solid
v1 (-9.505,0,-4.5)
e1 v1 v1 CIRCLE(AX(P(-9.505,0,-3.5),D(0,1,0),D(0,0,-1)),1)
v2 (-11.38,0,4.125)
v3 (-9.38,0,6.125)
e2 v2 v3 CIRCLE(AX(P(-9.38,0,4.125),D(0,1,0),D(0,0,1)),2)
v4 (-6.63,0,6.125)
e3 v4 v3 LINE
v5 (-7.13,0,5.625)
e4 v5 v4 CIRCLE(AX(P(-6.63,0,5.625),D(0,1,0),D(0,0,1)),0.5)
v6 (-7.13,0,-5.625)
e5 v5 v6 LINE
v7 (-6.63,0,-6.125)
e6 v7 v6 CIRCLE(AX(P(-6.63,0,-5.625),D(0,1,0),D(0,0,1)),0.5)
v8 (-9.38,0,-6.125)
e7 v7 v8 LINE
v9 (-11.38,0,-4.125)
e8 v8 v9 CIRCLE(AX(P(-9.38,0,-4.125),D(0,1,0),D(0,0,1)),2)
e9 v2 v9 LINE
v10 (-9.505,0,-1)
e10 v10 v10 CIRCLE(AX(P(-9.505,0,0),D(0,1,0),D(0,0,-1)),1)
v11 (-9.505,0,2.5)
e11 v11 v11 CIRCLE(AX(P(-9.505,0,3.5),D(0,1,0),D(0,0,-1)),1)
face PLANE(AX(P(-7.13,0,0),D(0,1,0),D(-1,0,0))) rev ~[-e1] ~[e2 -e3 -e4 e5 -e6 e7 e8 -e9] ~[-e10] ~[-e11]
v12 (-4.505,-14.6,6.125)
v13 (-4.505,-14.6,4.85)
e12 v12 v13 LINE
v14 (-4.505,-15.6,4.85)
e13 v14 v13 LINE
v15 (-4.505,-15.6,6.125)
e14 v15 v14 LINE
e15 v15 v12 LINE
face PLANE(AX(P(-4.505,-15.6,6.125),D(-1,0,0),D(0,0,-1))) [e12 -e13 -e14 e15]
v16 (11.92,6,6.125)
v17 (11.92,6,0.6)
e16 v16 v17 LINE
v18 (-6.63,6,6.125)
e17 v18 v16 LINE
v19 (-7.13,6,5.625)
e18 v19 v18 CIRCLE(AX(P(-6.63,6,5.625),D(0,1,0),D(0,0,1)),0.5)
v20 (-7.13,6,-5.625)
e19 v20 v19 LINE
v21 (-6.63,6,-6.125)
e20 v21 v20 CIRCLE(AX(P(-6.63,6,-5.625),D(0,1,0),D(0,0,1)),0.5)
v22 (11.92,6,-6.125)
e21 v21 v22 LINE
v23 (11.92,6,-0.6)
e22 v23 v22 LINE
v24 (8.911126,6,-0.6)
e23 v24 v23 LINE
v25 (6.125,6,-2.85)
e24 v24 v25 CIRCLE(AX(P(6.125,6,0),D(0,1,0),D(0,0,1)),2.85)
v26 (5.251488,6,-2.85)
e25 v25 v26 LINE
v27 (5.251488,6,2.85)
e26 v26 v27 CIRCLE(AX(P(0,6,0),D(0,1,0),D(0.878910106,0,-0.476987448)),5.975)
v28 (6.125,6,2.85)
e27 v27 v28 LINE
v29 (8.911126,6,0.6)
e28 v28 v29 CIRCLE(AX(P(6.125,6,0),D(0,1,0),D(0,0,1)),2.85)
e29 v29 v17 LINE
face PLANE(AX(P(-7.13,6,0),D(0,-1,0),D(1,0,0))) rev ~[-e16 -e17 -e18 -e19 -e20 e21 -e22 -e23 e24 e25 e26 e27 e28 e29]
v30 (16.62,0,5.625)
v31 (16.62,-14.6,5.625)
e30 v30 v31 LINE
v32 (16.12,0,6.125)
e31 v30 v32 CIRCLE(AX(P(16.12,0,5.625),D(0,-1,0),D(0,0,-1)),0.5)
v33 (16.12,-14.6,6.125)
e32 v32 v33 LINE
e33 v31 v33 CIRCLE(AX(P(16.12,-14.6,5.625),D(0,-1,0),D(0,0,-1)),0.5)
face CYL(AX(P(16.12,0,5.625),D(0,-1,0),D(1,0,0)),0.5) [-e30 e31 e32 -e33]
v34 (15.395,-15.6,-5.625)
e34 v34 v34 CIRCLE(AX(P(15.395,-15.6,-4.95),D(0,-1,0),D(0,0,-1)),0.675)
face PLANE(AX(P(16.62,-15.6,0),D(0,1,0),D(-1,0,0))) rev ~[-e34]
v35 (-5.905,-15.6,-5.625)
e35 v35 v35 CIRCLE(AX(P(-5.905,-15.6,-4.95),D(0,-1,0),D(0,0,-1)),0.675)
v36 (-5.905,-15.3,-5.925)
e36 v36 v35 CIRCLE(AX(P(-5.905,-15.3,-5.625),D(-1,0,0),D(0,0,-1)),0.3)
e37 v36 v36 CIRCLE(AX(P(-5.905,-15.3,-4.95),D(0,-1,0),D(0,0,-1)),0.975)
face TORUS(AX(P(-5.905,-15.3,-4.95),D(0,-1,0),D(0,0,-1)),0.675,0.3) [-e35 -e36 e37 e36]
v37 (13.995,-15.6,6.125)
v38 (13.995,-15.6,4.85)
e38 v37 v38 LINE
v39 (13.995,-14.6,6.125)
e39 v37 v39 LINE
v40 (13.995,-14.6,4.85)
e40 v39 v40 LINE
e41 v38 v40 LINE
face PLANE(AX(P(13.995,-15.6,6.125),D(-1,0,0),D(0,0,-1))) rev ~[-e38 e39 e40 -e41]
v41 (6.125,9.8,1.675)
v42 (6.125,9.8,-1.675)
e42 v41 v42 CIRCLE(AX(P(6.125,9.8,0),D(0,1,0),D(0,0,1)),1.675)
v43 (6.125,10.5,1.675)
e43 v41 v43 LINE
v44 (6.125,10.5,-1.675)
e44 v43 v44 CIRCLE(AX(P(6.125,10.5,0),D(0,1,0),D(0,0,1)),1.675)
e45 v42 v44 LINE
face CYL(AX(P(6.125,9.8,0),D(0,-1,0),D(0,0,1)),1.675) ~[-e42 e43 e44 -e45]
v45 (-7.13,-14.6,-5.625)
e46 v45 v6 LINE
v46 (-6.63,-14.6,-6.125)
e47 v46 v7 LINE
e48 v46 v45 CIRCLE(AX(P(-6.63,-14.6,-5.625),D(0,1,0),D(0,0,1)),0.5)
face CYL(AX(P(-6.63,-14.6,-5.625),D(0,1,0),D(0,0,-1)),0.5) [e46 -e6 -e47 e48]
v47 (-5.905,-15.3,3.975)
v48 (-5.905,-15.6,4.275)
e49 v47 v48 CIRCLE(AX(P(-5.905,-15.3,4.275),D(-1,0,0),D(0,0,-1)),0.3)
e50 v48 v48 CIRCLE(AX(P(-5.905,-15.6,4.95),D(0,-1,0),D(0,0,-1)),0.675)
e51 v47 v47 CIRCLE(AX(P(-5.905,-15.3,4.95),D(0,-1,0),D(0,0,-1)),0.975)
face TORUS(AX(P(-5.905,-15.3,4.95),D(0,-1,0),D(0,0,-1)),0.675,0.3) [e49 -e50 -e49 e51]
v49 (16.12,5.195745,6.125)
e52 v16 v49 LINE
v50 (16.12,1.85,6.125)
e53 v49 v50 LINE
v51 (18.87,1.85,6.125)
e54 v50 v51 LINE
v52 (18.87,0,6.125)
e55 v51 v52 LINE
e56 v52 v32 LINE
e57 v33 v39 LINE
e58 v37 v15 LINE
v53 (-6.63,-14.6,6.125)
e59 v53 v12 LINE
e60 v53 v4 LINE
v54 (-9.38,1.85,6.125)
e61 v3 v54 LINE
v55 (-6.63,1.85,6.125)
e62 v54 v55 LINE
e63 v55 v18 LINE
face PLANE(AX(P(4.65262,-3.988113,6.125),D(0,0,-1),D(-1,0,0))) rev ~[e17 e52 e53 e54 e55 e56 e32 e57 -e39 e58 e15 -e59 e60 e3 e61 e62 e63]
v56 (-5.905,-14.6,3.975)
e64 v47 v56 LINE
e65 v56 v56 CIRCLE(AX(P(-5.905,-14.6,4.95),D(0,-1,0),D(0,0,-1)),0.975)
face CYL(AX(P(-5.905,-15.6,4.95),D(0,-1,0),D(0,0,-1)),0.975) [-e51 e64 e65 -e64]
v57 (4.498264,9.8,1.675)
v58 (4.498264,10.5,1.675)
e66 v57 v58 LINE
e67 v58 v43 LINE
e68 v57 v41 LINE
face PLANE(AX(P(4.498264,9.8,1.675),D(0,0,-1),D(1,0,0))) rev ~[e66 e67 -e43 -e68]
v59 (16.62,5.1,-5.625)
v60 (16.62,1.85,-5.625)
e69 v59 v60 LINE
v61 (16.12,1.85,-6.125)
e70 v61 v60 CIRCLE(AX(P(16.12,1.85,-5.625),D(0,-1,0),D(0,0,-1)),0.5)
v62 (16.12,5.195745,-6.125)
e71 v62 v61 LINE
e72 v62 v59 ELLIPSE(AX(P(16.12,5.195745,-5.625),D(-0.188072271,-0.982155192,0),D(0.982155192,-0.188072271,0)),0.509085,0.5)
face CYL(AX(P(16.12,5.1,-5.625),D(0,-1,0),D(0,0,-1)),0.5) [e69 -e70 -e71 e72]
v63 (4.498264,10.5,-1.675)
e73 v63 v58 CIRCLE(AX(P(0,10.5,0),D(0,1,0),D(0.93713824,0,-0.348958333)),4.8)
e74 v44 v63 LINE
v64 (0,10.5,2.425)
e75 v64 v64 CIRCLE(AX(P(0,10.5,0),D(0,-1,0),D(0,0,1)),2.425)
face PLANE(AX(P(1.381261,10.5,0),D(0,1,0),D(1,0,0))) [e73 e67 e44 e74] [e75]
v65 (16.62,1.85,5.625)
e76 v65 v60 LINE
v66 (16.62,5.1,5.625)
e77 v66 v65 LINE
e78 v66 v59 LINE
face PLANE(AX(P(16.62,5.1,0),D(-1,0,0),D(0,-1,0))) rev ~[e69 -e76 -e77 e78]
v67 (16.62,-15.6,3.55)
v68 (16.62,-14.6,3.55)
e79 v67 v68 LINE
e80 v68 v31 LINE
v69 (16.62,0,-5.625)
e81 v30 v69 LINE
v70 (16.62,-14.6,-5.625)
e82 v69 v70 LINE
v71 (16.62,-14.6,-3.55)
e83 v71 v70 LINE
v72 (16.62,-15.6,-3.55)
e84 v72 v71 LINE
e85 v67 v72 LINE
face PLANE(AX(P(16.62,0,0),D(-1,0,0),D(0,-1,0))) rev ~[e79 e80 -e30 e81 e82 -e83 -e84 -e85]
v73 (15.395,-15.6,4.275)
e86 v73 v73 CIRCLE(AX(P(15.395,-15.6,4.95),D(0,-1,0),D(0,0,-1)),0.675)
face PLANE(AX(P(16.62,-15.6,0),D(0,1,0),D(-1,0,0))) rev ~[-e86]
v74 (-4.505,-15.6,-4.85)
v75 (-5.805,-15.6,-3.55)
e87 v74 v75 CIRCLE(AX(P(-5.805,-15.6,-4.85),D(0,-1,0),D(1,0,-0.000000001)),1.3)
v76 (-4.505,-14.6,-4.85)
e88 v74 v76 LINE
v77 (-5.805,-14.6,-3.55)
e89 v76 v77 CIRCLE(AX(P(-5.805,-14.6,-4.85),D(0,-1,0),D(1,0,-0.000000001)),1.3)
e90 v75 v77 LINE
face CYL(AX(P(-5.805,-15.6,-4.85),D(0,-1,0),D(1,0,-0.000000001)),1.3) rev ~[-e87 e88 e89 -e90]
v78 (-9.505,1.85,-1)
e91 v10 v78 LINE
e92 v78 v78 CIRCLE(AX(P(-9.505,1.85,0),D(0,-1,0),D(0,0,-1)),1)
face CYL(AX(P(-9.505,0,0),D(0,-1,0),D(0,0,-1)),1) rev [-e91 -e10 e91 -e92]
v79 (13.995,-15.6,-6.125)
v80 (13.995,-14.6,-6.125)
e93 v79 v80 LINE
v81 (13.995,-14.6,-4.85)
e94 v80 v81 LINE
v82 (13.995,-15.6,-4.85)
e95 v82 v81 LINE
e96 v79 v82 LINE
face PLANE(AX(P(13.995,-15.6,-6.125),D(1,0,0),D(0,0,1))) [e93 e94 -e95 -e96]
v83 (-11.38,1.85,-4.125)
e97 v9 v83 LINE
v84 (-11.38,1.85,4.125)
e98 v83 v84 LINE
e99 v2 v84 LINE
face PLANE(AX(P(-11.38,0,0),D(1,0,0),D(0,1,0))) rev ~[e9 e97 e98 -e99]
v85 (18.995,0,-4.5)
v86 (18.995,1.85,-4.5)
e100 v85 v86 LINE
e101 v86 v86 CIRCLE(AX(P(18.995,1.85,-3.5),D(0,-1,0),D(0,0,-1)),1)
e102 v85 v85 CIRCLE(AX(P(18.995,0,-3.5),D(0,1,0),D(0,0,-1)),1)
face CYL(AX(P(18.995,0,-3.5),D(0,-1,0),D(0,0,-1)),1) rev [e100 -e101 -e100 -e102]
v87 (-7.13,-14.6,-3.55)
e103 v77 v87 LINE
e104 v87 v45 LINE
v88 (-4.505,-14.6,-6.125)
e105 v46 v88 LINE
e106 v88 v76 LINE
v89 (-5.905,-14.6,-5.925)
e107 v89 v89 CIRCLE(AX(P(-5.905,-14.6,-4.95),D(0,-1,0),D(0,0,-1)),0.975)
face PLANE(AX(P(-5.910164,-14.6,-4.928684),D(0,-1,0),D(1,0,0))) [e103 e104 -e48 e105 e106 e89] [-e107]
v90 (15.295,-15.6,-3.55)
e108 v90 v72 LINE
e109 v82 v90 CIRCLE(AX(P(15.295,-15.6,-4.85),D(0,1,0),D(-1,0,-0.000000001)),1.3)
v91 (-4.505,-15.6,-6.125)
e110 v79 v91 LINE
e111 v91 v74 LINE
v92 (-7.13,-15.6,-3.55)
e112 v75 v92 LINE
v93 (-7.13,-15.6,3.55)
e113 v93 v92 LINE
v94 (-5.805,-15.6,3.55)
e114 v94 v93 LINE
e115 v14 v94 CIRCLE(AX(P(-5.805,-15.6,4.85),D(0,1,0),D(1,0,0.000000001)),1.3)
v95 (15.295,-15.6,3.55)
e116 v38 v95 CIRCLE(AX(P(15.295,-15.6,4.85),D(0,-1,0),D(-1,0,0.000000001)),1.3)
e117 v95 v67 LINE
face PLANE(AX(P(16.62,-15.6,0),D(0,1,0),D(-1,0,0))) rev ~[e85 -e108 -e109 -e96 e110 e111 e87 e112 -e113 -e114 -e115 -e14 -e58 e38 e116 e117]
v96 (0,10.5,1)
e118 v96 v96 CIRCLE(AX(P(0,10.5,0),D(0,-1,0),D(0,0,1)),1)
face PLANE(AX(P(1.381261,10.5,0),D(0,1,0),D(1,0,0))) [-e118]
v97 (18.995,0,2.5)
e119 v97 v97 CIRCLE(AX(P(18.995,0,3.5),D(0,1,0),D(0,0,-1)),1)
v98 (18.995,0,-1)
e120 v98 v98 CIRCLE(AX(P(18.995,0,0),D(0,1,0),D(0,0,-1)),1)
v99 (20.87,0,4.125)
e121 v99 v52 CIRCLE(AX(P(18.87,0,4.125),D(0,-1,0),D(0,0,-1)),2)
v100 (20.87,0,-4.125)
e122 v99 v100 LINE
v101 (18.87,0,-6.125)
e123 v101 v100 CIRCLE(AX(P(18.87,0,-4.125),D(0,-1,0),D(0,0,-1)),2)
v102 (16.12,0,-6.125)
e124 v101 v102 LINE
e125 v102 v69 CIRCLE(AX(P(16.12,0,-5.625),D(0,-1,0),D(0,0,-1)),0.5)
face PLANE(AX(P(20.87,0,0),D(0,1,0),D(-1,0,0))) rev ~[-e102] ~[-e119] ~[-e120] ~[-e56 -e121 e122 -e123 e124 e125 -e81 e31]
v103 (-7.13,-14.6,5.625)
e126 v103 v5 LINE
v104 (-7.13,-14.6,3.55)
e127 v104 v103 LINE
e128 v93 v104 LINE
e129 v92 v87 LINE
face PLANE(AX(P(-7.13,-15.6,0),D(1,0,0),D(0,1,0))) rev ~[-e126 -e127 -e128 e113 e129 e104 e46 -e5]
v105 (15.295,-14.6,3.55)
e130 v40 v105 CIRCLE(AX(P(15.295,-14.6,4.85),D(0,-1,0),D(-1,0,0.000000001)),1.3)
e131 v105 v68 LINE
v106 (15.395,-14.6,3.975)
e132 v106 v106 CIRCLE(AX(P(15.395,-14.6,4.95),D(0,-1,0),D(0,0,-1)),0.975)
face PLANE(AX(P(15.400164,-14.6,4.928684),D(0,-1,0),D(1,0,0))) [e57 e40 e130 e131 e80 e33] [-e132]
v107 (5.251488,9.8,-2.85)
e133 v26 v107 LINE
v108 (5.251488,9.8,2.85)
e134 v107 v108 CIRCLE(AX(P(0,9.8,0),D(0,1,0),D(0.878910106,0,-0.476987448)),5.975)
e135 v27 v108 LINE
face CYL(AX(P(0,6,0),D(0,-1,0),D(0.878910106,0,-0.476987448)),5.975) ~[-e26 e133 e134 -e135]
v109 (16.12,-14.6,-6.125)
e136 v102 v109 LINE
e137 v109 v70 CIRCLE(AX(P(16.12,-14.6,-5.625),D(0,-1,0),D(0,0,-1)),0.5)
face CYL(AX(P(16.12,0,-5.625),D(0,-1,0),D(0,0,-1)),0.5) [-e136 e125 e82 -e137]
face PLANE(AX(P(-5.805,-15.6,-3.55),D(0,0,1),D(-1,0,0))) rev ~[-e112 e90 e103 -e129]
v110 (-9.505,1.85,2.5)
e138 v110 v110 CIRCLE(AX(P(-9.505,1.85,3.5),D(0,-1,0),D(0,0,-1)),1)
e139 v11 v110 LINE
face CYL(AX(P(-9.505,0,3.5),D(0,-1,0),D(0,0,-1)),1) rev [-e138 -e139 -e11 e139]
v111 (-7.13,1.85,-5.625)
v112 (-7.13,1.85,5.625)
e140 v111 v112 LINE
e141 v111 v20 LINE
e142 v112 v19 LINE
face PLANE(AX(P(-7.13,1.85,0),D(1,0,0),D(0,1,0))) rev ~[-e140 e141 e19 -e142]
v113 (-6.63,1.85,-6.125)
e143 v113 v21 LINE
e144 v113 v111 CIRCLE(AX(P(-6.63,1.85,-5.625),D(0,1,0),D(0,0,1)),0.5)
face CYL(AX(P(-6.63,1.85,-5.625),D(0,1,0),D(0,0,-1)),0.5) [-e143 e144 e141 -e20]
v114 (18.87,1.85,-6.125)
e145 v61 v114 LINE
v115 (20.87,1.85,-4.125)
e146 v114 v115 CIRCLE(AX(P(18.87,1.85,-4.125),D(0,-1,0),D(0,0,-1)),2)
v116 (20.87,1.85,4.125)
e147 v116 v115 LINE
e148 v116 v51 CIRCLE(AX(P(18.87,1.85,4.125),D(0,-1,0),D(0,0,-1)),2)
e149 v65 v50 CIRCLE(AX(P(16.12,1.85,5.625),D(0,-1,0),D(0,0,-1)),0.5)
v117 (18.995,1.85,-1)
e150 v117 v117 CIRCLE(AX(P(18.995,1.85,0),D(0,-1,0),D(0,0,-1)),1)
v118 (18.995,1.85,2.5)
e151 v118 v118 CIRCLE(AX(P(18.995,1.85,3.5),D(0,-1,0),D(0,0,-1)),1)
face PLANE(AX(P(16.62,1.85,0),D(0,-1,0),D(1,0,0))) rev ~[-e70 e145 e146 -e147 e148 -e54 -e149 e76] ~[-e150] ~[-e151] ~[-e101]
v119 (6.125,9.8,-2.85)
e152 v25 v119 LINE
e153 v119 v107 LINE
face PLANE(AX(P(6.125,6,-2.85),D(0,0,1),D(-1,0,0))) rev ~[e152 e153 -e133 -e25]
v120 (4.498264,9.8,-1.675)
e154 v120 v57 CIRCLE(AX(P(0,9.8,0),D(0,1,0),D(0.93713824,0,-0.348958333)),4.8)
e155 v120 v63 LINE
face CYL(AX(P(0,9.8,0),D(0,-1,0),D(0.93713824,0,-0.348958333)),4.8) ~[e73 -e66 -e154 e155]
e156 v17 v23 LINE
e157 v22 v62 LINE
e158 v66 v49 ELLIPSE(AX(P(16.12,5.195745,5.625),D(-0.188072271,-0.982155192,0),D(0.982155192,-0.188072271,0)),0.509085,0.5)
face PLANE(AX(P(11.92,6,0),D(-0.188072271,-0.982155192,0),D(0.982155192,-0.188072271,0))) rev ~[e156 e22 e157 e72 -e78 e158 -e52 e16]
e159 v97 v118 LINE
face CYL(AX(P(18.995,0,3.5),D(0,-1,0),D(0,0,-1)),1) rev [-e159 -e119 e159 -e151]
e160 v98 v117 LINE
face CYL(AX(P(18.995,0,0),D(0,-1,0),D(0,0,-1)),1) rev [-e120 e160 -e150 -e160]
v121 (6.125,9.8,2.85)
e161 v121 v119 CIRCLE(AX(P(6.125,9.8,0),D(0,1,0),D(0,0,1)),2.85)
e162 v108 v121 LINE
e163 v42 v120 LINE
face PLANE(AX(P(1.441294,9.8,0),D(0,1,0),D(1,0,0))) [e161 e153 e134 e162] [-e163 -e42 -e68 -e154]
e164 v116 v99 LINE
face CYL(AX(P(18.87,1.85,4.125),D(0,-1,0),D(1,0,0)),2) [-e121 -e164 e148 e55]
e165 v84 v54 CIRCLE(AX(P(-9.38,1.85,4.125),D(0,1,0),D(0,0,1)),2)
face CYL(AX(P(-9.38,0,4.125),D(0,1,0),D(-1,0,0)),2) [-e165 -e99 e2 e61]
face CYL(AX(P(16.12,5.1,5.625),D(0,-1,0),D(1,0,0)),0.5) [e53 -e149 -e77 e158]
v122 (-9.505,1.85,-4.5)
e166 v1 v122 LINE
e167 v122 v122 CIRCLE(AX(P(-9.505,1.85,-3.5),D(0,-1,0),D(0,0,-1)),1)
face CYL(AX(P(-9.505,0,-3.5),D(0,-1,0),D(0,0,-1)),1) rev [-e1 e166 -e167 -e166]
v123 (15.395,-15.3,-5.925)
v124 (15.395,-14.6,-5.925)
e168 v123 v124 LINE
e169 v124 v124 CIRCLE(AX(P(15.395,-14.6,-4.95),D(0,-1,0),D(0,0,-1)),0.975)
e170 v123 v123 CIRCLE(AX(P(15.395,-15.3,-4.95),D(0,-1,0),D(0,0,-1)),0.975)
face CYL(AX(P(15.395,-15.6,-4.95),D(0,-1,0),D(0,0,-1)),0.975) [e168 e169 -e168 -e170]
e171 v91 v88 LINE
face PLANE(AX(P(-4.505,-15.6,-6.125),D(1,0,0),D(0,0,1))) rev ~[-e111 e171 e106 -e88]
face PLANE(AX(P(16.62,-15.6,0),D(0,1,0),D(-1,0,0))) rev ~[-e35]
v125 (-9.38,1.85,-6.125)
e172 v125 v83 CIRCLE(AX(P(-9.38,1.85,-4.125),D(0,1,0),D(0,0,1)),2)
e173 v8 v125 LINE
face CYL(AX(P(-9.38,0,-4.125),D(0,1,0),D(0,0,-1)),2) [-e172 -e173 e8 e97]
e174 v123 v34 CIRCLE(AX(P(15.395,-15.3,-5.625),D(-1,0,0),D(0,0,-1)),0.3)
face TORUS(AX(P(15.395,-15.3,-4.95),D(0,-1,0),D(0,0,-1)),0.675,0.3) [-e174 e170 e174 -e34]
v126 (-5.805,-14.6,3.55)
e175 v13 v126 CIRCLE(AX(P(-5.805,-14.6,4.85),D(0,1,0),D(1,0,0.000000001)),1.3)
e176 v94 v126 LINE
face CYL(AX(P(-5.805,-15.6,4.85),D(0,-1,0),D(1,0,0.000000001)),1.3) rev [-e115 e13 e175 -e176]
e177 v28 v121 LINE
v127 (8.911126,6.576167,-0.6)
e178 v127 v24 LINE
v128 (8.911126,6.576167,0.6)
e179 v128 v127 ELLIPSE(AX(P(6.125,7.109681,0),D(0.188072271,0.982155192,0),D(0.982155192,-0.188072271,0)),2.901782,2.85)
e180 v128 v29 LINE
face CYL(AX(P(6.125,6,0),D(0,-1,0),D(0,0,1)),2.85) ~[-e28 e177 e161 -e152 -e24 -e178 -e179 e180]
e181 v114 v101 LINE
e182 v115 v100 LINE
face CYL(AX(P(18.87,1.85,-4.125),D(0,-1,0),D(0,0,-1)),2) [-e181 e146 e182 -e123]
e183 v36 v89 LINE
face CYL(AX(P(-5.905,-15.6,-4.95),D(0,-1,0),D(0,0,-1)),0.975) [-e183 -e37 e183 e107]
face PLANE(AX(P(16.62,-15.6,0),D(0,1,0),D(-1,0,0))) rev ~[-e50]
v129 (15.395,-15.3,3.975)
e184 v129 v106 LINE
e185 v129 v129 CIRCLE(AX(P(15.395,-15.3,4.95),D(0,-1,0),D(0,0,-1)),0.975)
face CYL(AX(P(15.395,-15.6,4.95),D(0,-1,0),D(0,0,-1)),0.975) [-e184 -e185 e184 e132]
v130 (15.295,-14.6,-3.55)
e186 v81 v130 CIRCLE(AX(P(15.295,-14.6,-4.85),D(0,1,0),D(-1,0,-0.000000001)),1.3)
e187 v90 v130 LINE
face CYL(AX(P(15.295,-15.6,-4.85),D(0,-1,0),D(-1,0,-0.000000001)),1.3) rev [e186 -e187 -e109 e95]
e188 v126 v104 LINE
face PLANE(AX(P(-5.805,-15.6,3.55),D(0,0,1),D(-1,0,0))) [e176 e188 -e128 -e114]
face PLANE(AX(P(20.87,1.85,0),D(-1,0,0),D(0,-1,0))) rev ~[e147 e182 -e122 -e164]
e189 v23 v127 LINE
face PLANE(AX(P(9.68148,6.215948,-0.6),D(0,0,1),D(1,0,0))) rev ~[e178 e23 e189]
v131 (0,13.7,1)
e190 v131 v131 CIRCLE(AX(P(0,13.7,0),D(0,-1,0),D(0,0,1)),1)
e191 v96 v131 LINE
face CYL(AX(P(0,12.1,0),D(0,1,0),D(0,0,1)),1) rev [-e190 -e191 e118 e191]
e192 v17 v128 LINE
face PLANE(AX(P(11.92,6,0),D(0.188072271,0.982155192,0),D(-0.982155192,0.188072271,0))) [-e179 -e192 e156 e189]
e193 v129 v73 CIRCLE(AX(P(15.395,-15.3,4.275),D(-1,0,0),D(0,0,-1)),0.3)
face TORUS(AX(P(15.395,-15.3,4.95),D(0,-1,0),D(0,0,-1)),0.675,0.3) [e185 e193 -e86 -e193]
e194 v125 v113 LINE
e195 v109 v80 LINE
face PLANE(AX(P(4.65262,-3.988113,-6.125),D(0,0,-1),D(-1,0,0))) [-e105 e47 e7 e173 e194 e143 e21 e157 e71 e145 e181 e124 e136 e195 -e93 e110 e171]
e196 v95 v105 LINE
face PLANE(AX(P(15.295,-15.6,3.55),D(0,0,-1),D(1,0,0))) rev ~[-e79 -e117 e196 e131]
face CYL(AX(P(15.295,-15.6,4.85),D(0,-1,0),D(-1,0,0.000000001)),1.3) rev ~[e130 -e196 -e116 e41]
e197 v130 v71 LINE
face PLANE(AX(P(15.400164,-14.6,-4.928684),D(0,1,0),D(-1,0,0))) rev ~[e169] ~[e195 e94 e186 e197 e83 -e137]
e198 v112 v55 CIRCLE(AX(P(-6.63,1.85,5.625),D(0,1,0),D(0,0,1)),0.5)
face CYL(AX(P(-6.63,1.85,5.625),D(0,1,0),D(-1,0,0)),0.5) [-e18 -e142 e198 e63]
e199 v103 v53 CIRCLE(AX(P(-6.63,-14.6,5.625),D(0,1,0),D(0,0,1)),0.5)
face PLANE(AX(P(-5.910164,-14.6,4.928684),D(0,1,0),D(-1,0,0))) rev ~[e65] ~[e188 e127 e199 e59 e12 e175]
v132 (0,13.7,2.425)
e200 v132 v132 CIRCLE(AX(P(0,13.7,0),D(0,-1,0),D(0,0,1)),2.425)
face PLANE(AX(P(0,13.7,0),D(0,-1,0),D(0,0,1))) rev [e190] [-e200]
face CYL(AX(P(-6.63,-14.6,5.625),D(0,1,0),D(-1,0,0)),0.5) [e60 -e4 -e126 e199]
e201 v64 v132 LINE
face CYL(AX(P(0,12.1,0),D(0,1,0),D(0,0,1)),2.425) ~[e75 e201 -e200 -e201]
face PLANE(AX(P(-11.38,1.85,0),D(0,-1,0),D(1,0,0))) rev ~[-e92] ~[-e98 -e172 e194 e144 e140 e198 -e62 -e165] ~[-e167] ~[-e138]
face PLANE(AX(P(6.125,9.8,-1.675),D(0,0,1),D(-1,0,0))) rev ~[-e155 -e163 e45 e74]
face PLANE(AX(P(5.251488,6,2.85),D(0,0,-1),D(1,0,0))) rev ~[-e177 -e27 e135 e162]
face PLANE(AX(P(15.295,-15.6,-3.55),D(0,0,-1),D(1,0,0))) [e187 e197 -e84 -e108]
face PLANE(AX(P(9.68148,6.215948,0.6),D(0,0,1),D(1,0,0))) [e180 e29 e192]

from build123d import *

# Parameters (mm, degrees)
BOSS_EXTRUDE1_DEPTH = 6.125
BOSS_EXTRUDE2_DEPTH = 3.8
BOSS_EXTRUDE3_DEPTH = 0.7
SKETCH4_R           = 1
CUT_EXTRUDE1_DEPTH  = 27.766257209
SKETCH5_R           = 0.975
CUT_EXTRUDE2_DEPTH  = 1
BOSS_EXTRUDE6_DEPTH = 0.6
SKETCH9_W           = 1.425
SKETCH9_H           = 3.2
FILLET1_R           = 0.3
FILLET2_R           = 2
FILLET3_R           = 0.5


with BuildPart() as part:
    # Sketch1 → Boss-Extrude1 (new, symmetric)
    with BuildSketch(Plane.XY):
        Polygon((-7.13, 6), (11.92, 6), (16.62, 5.1), (16.62, 1.85), (20.87, 1.85), (20.87, 0), (16.62, 0), (16.62, -15.6), (-7.13, -15.6), (-7.13, 0), (-11.38, 0), (-11.38, 1.85), (-7.13, 1.85), align=None)
    extrude(amount=BOSS_EXTRUDE1_DEPTH, both=True)

    # Sketch2 → Boss-Extrude2 (add)
    with BuildSketch(Plane(origin=(0, 6, 0), x_dir=(1, 0, 0), z_dir=(0, 1, 0))):
        with BuildLine():
            Line((5.251487884, -2.85), (6.125, -2.85))
            ThreePointArc((6.125, -2.85), (8.975, 0), (6.125, 2.85))
            Line((6.125, 2.85), (5.251487884, 2.85))
            ThreePointArc((5.251487884, 2.85), (-5.975, 0), (5.251487884, -2.85))
        make_face()
    extrude(amount=BOSS_EXTRUDE2_DEPTH)

    # Sketch3 → Boss-Extrude3 (add)
    with BuildSketch(Plane(origin=(0, 9.8, 0), x_dir=(1, 0, 0), z_dir=(0, 1, 0))):
        with BuildLine():
            Line((4.498263554, -1.675), (6.125, -1.675))
            ThreePointArc((6.125, -1.675), (7.8, 0), (6.125, 1.675))
            Line((6.125, 1.675), (4.498263554, 1.675))
            ThreePointArc((4.498263554, 1.675), (-4.8, 0), (4.498263554, -1.675))
        make_face()
    extrude(amount=BOSS_EXTRUDE3_DEPTH)

    # Sketch4 → Cut-Extrude1 (cut, through all)
    with BuildSketch(Plane(origin=(0, 0, 0), x_dir=(1, 0, 0), z_dir=(0, 1, 0))):
        with Locations((-9.505, 3.5)):
            Circle(SKETCH4_R)
        with Locations((-9.505, -3.5)):
            Circle(SKETCH4_R)
        with Locations((18.995, 3.5)):
            Circle(SKETCH4_R)
        with Locations((18.995, -3.5)):
            Circle(SKETCH4_R)
        with Locations((18.995, 0)):
            Circle(SKETCH4_R)
        with Locations((-9.505, 0)):
            Circle(SKETCH4_R)
    extrude(amount=CUT_EXTRUDE1_DEPTH, mode=Mode.SUBTRACT)

    # Sketch5 → Cut-Extrude2 (cut)
    # profile 1 of 4: a face of its own
    with BuildSketch(Plane.XZ.offset(15.6)):
        with BuildLine():
            Line((16.62, 6.125), (13.995, 6.125))
            Line((13.995, 6.125), (13.995, 4.85))
            ThreePointArc((13.995, 4.85), (14.375761184, 3.930761184), (15.295, 3.55))
            Line((15.295, 3.55), (16.62, 3.55))
            Line((16.62, 3.55), (16.62, 6.125))
        make_face()
        with Locations((15.395, 4.95)):
            Circle(SKETCH5_R, mode=Mode.SUBTRACT)
    # profile 2 of 4: a face of its own
    with BuildSketch(Plane.XZ.offset(15.6)):
        with BuildLine():
            Line((16.62, -6.125), (13.995, -6.125))
            Line((13.995, -6.125), (13.995, -4.85))
            ThreePointArc((13.995, -4.85), (14.375761184, -3.930761184), (15.295, -3.55))
            Line((15.295, -3.55), (16.62, -3.55))
            Line((16.62, -3.55), (16.62, -6.125))
        make_face()
        with Locations((15.395, -4.95)):
            Circle(SKETCH5_R, mode=Mode.SUBTRACT)
    # profile 3 of 4: a face of its own
    with BuildSketch(Plane.XZ.offset(15.6)):
        with BuildLine():
            Line((-7.13, 6.125), (-4.505, 6.125))
            Line((-4.505, 6.125), (-4.505, 4.85))
            ThreePointArc((-4.505, 4.85), (-4.885761184, 3.930761184), (-5.805, 3.55))
            Line((-5.805, 3.55), (-7.13, 3.55))
            Line((-7.13, 3.55), (-7.13, 6.125))
        make_face()
        with Locations((-5.905, 4.95)):
            Circle(SKETCH5_R, mode=Mode.SUBTRACT)
    # profile 4 of 4: a face of its own
    with BuildSketch(Plane.XZ.offset(15.6)):
        with BuildLine():
            Line((-7.13, -6.125), (-4.505, -6.125))
            Line((-4.505, -6.125), (-4.505, -4.85))
            ThreePointArc((-4.505, -4.85), (-4.885761184, -3.930761184), (-5.805, -3.55))
            Line((-5.805, -3.55), (-7.13, -3.55))
            Line((-7.13, -3.55), (-7.13, -6.125))
        make_face()
        with Locations((-5.905, -4.95)):
            Circle(SKETCH5_R, mode=Mode.SUBTRACT)
    extrude(amount=-CUT_EXTRUDE2_DEPTH, mode=Mode.SUBTRACT)

    # Sketch8 → Boss-Extrude6 (add, symmetric)
    with BuildSketch(Plane.XY):
        Polygon((11.92, 6), (7.8, 6.78893617), (7.8, 6), align=None)
    extrude(amount=BOSS_EXTRUDE6_DEPTH, both=True)

    # Sketch9 → Revolve1 (revolve)
    with BuildSketch(Plane.XY):
        with Locations((1.7125, 12.1)):
            Rectangle(SKETCH9_W, SKETCH9_H)
    revolve(axis=Axis((0, 55, 0), (0, -1, 0)))

    # Fillet1
    fillet1_edges = [part.edges().sort_by_distance(p)[0] for p in [
        (14.42, -15.6, -4.95),
        (14.42, -15.6, 4.95),
        (-6.88, -15.6, -4.95),
        (-6.88, -15.6, 4.95),
    ]]
    fillet(fillet1_edges, radius=FILLET1_R)

    # Fillet2
    fillet2_edges = [part.edges().sort_by_distance(p)[0] for p in [
        (20.87, 0.925, -6.125),
        (20.87, 0.925, 6.125),
        (-11.38, 0.925, 6.125),
        (-11.38, 0.925, -6.125),
    ]]
    fillet(fillet2_edges, radius=FILLET2_R)

    # Fillet3
    fillet3_edges = [part.edges().sort_by_distance(p)[0] for p in [
        (16.62, -7.3, -6.125),
        (16.62, 3.475, -6.125),
        (16.62, 3.475, 6.125),
        (16.62, -7.3, 6.125),
        (-7.13, -7.3, -6.125),
        (-7.13, 3.925, -6.125),
        (-7.13, 3.925, 6.125),
        (-7.13, -7.3, 6.125),
    ]]
    fillet(fillet3_edges, radius=FILLET3_R)


solid = part.part
